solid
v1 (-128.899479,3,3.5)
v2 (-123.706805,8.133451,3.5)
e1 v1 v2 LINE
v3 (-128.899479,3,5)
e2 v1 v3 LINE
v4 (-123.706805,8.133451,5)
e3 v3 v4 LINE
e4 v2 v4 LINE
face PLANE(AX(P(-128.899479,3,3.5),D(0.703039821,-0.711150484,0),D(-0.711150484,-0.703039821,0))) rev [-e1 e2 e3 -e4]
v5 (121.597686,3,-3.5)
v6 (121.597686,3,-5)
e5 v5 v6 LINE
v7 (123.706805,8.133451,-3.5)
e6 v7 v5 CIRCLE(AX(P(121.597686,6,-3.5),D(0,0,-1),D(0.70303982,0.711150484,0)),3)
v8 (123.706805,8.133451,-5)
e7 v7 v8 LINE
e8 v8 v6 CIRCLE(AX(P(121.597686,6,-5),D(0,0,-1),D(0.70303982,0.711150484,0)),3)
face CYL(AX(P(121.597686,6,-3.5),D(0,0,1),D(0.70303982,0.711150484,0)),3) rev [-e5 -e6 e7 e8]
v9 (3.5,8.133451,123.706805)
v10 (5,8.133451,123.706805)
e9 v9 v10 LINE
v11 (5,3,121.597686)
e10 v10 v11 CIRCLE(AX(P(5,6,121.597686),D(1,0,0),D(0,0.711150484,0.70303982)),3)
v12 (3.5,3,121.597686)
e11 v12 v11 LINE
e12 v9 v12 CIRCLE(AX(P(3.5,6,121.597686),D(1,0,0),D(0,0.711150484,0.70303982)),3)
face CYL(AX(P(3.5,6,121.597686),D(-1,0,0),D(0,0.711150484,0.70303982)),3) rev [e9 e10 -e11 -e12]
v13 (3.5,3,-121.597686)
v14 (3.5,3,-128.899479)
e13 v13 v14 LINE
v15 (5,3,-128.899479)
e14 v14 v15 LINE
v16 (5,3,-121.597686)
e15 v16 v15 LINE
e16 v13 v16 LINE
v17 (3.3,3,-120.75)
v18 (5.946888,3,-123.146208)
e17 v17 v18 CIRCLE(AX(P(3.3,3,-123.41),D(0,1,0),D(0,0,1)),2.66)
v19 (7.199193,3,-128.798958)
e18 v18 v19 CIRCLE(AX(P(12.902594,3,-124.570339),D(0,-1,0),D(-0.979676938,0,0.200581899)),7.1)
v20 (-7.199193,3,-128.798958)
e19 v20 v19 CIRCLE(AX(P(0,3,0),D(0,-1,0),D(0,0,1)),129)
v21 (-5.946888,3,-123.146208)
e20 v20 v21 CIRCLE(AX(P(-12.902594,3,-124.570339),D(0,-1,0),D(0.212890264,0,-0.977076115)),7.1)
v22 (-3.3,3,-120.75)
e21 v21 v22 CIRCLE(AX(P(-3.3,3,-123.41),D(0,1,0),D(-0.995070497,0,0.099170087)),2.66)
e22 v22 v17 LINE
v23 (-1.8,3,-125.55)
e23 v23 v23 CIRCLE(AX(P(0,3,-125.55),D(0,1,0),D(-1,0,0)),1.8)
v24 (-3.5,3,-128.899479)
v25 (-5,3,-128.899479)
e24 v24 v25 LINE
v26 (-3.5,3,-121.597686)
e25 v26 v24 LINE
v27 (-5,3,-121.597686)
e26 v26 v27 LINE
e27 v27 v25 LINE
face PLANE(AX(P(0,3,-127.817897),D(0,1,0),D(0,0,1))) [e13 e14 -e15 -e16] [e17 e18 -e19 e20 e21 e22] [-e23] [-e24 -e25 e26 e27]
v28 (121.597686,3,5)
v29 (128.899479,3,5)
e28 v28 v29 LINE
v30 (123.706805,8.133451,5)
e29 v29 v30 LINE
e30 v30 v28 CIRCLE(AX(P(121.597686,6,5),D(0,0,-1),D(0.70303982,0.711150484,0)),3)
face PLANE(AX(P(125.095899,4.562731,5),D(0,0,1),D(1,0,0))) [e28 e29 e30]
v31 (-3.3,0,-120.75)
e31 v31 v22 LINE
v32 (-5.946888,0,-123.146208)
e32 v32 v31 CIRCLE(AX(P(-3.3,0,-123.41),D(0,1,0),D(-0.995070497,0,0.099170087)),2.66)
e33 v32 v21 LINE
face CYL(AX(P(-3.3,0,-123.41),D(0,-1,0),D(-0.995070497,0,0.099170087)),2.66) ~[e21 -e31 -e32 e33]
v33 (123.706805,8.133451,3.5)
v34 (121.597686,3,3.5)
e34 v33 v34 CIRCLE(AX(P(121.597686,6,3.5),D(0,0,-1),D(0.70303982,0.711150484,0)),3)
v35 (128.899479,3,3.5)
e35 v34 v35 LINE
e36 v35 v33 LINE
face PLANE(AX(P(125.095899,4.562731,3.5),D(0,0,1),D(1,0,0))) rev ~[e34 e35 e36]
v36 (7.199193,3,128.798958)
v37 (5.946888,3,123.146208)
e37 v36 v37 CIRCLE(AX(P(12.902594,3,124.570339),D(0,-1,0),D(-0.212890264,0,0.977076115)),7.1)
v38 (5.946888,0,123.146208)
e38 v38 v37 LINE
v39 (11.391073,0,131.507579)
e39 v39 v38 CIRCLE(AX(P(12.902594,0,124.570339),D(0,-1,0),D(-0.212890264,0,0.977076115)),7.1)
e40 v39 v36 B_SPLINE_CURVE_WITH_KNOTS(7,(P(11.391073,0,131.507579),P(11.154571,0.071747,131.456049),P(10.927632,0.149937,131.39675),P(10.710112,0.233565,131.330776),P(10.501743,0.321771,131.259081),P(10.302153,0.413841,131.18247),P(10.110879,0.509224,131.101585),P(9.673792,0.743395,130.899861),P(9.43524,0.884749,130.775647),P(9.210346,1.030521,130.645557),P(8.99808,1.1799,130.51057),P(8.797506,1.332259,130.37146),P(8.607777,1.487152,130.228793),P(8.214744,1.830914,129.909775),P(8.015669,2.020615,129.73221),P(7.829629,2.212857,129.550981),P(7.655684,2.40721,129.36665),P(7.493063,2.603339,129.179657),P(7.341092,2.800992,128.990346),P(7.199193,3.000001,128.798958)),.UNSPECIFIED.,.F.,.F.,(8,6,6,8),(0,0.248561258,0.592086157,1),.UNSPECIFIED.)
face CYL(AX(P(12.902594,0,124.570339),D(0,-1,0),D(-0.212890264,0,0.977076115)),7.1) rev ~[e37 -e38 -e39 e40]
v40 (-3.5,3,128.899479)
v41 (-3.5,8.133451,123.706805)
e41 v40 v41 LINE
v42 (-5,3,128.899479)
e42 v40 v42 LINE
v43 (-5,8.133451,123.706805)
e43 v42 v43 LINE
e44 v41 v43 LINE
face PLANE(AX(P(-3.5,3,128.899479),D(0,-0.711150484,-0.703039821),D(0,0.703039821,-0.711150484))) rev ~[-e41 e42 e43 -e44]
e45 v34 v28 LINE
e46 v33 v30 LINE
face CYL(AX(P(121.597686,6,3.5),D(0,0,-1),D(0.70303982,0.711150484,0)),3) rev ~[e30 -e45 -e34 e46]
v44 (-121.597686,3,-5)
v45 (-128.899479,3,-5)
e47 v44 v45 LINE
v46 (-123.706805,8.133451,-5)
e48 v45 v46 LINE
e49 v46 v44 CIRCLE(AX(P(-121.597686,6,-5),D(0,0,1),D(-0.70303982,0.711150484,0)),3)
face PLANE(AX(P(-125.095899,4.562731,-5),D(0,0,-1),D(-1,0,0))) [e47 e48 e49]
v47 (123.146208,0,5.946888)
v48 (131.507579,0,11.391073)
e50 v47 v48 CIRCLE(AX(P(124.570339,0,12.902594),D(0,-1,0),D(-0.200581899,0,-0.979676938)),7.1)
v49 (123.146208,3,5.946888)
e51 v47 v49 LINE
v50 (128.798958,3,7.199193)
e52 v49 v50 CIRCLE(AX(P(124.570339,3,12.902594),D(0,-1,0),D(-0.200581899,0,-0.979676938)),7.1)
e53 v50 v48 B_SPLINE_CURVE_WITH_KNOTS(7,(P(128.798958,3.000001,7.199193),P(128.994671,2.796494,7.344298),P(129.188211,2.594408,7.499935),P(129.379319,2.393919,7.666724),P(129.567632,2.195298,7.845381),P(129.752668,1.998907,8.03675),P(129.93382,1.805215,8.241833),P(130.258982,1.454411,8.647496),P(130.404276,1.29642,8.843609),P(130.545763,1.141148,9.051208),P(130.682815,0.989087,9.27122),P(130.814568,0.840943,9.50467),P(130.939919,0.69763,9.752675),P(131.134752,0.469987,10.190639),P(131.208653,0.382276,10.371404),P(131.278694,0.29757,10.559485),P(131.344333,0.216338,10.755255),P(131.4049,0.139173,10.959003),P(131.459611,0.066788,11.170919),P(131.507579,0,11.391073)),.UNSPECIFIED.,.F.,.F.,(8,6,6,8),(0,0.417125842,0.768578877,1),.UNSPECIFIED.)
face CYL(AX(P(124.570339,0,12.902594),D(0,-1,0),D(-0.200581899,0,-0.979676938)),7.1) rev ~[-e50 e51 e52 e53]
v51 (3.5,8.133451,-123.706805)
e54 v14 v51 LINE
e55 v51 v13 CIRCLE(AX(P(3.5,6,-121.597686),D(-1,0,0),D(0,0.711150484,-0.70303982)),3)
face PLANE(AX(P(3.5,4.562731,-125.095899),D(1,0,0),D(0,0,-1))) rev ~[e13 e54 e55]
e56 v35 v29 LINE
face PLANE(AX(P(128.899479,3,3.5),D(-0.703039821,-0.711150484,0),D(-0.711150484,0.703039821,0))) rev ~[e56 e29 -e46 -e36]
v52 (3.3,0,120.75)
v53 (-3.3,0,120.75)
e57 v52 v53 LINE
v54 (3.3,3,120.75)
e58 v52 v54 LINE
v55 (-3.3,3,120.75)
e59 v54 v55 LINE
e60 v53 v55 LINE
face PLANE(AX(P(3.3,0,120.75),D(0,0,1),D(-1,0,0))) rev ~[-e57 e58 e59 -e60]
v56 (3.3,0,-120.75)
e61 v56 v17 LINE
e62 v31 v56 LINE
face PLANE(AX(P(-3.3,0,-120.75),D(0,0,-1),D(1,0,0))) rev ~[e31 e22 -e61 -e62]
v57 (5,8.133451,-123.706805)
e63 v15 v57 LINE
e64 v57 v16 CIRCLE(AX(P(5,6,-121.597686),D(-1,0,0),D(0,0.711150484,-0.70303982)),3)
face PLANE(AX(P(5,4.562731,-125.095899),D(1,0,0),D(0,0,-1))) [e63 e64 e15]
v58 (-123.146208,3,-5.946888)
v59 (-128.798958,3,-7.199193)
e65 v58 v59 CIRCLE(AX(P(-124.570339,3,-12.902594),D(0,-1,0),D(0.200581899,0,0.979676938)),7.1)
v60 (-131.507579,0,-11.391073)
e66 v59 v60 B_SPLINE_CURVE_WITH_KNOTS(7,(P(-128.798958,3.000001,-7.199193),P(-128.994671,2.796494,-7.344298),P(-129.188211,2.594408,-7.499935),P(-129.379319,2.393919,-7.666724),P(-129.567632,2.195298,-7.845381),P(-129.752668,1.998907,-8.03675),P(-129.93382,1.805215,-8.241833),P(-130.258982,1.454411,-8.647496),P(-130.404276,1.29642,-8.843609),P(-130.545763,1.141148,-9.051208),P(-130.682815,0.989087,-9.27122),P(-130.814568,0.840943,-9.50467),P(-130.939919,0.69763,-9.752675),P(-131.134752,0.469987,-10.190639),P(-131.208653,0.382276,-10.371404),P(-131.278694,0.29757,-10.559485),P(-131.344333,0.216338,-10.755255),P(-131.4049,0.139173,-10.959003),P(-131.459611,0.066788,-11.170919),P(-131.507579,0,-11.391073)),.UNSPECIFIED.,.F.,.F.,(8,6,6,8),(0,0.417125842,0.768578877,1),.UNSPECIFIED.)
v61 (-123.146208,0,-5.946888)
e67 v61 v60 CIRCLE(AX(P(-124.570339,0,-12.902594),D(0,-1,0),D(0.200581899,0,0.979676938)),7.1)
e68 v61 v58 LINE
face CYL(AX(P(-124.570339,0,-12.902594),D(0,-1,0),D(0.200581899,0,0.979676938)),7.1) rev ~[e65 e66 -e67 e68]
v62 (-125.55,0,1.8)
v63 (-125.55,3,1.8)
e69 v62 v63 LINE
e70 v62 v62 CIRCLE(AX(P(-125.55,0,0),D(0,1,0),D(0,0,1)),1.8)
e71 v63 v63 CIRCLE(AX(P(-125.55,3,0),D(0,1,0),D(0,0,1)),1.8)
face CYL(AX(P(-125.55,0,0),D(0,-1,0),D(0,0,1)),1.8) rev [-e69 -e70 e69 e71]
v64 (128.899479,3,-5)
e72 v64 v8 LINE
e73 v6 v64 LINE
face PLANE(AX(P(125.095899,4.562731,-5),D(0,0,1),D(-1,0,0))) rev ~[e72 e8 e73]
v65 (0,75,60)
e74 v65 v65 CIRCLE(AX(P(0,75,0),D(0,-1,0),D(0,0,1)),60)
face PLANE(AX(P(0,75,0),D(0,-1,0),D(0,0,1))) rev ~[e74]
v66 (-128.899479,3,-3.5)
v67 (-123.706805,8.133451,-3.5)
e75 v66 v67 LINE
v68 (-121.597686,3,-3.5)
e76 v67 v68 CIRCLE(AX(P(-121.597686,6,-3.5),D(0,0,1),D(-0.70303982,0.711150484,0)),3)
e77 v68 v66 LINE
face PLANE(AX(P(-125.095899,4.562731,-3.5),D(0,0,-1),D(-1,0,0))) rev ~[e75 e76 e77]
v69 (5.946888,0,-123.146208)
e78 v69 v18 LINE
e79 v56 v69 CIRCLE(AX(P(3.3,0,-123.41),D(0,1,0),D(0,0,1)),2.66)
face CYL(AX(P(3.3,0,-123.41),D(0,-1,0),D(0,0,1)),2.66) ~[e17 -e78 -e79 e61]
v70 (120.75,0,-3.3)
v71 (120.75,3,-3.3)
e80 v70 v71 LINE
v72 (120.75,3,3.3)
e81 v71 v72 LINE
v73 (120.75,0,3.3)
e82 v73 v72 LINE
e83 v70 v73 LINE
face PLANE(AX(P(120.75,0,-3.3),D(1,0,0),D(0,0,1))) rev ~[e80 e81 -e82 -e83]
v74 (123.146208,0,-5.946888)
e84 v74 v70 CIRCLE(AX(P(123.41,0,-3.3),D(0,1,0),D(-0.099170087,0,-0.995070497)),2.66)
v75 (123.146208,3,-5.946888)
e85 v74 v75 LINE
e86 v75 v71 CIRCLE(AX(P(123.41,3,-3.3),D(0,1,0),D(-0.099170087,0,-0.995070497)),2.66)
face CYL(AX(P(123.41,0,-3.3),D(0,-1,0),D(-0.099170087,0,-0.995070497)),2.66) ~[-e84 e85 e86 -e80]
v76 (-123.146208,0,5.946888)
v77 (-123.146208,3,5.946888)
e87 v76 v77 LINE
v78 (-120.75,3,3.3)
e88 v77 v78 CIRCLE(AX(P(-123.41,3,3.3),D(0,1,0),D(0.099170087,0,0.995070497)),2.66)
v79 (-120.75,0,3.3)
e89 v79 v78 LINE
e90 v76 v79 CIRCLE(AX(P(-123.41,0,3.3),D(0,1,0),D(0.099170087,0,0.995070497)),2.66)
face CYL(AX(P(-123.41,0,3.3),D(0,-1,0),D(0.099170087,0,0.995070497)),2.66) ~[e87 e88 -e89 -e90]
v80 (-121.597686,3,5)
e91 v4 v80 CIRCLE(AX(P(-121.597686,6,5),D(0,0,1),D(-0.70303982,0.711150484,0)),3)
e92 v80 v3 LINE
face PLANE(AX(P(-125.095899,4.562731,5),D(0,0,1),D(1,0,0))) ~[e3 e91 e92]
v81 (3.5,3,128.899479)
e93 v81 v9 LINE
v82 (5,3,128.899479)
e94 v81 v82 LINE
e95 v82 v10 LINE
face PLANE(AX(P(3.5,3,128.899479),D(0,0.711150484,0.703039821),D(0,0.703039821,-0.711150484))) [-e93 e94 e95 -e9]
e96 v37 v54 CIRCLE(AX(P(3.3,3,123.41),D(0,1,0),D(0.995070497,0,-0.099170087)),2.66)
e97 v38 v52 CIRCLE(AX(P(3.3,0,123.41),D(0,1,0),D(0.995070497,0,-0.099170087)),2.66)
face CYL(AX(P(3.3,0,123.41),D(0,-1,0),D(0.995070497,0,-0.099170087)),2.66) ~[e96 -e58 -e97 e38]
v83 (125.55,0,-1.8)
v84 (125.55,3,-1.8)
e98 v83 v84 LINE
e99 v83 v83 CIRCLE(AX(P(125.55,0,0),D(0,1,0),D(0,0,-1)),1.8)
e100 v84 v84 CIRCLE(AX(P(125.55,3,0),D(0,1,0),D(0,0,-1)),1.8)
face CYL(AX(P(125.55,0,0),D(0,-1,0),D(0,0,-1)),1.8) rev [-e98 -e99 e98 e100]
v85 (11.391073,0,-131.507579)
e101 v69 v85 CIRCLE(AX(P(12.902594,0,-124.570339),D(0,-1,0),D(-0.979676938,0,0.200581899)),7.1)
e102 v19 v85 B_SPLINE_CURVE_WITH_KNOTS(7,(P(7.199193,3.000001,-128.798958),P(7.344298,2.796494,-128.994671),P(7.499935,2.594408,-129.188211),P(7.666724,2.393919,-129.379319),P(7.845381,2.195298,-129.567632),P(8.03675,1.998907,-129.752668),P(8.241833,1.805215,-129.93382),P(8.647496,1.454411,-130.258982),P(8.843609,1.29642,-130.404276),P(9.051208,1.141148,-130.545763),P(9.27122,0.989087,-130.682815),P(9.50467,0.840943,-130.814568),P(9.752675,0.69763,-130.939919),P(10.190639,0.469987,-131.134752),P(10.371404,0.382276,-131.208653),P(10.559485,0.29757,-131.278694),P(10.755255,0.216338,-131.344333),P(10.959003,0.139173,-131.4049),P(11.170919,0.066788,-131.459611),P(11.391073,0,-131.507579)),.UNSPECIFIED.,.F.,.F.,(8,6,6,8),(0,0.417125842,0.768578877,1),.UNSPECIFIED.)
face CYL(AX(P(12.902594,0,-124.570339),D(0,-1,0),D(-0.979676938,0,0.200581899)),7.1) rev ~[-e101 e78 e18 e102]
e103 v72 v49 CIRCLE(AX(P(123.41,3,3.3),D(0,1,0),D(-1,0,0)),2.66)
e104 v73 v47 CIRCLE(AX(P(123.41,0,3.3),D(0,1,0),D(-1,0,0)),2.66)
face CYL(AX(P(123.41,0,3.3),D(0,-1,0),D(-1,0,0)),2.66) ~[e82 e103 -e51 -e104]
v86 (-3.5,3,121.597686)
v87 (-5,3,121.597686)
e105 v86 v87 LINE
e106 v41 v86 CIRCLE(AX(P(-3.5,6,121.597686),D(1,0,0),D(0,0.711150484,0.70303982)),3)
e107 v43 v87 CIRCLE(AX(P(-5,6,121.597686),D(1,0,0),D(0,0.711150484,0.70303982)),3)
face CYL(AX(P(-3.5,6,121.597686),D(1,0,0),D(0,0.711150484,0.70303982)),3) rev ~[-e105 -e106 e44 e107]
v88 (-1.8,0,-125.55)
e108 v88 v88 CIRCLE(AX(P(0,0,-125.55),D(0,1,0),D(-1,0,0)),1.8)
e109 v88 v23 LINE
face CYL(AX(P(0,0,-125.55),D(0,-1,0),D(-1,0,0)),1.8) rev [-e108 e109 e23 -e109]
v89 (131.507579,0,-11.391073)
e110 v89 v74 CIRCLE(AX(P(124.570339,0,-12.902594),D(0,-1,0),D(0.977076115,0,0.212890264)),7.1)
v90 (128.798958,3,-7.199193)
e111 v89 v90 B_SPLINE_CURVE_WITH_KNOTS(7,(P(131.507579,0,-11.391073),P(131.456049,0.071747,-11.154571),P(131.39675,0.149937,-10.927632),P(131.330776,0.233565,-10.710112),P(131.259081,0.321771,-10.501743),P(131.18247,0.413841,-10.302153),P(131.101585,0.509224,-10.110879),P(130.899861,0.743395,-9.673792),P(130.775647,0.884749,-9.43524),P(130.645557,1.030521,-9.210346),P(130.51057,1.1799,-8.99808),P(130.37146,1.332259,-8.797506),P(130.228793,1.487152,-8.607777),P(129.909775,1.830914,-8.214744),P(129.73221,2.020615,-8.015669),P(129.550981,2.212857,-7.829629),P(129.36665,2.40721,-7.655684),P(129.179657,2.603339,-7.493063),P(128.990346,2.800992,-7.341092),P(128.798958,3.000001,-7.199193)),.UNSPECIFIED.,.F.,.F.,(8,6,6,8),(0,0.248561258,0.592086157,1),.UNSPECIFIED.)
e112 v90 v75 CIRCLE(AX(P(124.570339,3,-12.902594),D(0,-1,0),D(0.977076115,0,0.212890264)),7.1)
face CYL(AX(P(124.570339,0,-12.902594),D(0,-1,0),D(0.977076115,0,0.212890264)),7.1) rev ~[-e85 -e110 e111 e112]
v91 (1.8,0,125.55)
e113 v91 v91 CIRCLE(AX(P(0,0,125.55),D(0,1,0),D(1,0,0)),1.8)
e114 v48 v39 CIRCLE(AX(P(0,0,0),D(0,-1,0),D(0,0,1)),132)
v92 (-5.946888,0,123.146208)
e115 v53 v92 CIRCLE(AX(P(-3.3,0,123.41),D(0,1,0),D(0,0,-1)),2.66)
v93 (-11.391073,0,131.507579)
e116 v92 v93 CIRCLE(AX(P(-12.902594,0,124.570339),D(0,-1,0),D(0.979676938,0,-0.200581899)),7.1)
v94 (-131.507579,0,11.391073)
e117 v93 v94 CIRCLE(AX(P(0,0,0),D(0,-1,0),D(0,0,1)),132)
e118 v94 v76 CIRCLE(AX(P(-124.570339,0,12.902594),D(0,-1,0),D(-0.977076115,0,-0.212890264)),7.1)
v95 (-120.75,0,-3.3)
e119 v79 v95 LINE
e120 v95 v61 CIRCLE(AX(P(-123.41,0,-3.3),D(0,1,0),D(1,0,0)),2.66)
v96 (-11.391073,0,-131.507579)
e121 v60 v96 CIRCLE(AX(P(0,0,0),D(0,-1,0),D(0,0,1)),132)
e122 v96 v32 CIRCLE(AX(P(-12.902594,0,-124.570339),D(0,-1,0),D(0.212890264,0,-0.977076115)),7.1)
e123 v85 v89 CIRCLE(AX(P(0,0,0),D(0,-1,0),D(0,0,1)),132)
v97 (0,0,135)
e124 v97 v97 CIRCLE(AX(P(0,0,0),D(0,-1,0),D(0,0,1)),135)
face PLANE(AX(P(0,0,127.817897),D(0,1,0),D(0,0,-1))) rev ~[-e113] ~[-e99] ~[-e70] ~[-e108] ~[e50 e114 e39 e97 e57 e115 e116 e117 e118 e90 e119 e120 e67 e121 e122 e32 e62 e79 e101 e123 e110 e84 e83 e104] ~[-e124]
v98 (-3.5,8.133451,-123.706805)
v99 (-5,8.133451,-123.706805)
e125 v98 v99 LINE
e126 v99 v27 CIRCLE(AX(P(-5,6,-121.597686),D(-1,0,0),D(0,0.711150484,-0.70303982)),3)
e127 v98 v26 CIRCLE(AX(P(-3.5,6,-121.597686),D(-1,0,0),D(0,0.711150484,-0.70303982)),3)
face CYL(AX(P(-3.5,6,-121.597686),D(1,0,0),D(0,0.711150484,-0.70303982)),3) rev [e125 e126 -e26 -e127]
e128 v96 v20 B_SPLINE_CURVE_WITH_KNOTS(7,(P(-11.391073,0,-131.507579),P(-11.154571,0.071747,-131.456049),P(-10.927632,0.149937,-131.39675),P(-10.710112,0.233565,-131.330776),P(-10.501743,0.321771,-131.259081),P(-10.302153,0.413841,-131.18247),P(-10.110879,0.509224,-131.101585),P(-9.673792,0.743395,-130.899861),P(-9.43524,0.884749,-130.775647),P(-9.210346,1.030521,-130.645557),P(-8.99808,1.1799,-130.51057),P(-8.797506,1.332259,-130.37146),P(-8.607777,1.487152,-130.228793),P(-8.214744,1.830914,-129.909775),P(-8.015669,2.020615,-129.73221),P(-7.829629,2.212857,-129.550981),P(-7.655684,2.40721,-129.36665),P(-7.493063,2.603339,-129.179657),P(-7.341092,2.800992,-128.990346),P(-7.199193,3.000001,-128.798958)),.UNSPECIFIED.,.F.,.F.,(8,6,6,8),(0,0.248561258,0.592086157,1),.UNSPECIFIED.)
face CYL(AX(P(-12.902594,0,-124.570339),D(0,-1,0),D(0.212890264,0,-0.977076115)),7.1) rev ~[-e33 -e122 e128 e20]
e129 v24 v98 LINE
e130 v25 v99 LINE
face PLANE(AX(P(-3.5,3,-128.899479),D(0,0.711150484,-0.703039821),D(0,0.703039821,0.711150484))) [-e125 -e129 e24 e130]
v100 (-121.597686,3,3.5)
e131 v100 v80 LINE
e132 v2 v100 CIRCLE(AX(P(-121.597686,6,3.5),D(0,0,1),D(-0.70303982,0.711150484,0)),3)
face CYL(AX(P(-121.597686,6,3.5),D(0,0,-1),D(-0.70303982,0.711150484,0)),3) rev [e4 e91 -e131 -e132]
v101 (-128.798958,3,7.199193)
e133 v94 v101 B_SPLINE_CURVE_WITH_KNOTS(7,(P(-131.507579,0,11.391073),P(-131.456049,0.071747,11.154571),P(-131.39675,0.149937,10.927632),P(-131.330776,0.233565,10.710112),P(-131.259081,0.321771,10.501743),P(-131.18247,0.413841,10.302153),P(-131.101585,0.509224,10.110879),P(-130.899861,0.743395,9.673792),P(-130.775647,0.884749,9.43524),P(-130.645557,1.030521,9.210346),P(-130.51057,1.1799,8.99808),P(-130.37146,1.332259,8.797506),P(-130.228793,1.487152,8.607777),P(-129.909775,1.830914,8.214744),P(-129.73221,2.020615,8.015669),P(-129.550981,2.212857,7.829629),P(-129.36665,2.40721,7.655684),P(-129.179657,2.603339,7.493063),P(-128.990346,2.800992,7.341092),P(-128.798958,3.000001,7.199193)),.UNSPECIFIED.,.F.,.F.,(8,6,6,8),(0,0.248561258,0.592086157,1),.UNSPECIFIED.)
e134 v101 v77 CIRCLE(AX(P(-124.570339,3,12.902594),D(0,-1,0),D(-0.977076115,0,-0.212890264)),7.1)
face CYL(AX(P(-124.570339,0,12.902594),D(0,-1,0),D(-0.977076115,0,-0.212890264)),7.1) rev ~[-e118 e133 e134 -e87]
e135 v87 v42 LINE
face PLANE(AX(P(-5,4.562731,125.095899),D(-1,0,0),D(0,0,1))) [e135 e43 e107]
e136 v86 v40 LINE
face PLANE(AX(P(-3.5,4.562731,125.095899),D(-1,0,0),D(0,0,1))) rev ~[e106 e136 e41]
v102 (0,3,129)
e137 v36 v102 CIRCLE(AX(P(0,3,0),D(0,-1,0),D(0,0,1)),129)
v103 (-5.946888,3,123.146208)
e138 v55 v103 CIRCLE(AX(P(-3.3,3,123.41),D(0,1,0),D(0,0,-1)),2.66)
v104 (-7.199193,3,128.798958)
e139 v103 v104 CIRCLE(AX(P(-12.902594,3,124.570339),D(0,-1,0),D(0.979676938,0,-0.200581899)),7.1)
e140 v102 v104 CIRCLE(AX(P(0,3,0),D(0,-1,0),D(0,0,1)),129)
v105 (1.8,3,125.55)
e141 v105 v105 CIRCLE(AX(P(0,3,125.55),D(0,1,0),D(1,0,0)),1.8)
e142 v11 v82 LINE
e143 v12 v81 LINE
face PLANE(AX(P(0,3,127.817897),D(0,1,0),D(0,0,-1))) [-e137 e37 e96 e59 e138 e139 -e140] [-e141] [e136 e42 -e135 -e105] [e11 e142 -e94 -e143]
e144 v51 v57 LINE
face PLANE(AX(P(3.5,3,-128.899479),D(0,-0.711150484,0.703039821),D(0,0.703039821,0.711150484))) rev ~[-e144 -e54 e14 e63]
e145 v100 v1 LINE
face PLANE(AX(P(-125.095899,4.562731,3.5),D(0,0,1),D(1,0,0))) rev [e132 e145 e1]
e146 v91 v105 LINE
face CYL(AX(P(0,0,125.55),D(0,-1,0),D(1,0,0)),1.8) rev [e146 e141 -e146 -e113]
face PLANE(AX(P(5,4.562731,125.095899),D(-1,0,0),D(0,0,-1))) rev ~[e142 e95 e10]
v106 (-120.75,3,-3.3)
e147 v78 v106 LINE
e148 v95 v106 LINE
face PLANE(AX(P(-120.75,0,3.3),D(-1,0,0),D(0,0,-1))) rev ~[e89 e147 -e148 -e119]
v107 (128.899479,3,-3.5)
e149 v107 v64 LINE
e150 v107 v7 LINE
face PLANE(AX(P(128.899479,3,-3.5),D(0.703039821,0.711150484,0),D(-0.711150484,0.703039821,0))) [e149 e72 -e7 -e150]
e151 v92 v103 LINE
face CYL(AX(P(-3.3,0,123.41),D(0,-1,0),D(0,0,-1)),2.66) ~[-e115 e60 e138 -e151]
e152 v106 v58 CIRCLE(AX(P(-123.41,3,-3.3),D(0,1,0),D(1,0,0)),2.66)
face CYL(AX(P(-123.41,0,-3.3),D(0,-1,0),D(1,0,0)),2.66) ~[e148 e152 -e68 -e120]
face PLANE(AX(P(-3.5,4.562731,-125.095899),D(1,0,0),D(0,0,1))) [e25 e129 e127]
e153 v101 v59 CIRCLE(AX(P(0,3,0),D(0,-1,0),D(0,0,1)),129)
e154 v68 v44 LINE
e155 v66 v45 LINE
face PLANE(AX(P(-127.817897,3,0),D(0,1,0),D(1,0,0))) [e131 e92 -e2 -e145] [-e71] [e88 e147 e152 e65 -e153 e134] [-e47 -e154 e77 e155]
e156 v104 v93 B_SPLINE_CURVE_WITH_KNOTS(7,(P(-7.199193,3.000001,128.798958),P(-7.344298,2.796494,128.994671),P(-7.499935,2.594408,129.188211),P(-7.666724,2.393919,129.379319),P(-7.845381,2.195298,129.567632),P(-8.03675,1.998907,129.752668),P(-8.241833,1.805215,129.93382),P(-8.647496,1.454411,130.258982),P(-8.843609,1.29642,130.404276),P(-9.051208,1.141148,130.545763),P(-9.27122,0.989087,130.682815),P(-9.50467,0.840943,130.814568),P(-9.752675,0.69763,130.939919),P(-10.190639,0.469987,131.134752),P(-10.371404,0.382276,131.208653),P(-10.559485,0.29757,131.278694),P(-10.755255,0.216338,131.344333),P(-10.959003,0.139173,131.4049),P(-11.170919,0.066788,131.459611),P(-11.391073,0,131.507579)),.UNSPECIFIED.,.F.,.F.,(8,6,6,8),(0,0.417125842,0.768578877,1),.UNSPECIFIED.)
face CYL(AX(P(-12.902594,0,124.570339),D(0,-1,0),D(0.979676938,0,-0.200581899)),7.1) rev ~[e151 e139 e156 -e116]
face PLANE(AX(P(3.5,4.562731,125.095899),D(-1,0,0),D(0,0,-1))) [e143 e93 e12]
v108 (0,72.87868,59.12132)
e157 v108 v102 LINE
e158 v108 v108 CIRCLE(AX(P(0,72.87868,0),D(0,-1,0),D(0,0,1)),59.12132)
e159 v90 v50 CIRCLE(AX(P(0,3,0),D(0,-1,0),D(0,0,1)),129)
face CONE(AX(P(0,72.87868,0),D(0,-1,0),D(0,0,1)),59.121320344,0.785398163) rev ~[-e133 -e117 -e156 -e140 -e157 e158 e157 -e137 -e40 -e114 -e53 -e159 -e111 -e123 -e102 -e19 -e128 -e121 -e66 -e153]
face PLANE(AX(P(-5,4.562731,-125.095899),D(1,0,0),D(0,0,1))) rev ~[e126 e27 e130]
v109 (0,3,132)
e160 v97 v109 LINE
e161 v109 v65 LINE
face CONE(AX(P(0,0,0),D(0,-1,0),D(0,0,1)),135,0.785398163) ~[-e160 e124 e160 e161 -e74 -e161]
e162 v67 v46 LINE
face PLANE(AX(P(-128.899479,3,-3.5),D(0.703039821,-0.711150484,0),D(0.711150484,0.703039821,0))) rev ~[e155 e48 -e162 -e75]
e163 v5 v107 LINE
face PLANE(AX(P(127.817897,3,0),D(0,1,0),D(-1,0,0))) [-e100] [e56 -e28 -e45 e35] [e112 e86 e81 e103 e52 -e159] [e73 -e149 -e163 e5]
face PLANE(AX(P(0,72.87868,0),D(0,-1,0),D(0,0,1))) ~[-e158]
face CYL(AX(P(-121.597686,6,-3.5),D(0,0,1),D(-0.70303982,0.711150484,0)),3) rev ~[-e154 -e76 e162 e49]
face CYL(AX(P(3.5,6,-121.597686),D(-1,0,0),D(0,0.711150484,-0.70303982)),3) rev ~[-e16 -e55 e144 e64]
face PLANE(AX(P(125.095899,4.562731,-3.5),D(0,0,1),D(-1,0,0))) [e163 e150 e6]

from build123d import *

# Parameters (mm, degrees)
SKETCH2_R                = 1.8
BOSS_EXTRUDE1_DEPTH      = 3
BOSS_EXTRUDE2_START      = -3.5
BOSS_EXTRUDE2_DEPTH      = 1.5
CIRPATTERN1_COUNT        = 4
CIRPATTERN1_START        = -3.5
CIRPATTERN1_COPY_1_DEPTH = 1.5
CIRPATTERN1_COPY_2_DEPTH = 1.5
CIRPATTERN1_COPY_3_DEPTH = 1.5


with BuildPart() as part:
    # Sketch1 → Revolve1 (revolve)
    with BuildSketch(Plane.XY, mode=Mode.PRIVATE) as revolve1_sk:
        Polygon((60, 75), (0, 75), (0, 72.878679656), (59.121320344, 72.878679656), (132, 0), (135, 0), align=None)
    revolve(revolve1_sk.sketch.rotate(Axis((0, 141.591796875, 0), (0, -1, 0)), 90), axis=Axis((0, 141.591796875, 0), (0, -1, 0)))

    # Sketch2 → Boss-Extrude1 (add)
    with BuildSketch(Plane(origin=(0, 0, 0), x_dir=(1, 0, 0), z_dir=(0, 1, 0))):
        with BuildLine():
            Line((-120.75, -3.3), (-120.75, 3.3))
            ThreePointArc((-120.75, 3.3), (-121.438035515, 5.085204769), (-123.14620757, 5.946887522))
            ThreePointArc((-123.14620757, 5.946887522), (-128.444404248, 6.952667825), (-131.50757947, 11.391072901))
            ThreePointArc((-131.50757947, 11.391072901), (-132, 0), (-131.50757947, -11.391072901))
            ThreePointArc((-131.50757947, -11.391072901), (-128.444404248, -6.952667825), (-123.14620757, -5.946887522))
            ThreePointArc((-123.14620757, -5.946887522), (-121.438035515, -5.085204769), (-120.75, -3.3))
        make_face()
        with Locations(Location((-125.55, 0, 0), (0, 0, 270))):
            Circle(SKETCH2_R, mode=Mode.SUBTRACT)
    boss_extrude1 = extrude(amount=BOSS_EXTRUDE1_DEPTH)

    # Sketch4 → Boss-Extrude2 (add)
    with BuildSketch(Plane.XY.offset(BOSS_EXTRUDE2_START)):
        with BuildLine():
            Line((-121.597685774, 3), (-128.899479074, 3))
            Line((-128.899479074, 3), (-123.706805235, 8.133451452))
            ThreePointArc((-123.706805235, 8.133451452), (-124.372605084, 4.859902275), (-121.597685774, 3))
        make_face()
    boss_extrude2 = extrude(amount=-BOSS_EXTRUDE2_DEPTH)

    # Mirror1: Boss-Extrude2 across plane
    add(boss_extrude2.mirror(Plane.XY))

    # CirPattern1: Boss-Extrude1, Boss-Extrude2 ×4 about axis
    cirpattern1_axis = Axis((0, 0, 0), (0, 1, 0))
    add([boss_extrude1.rotate(cirpattern1_axis, i * 360 / CIRPATTERN1_COUNT) for i in range(1, CIRPATTERN1_COUNT)])
    add([boss_extrude2.rotate(cirpattern1_axis, i * 360 / CIRPATTERN1_COUNT) for i in range(1, CIRPATTERN1_COUNT)])

    # CirPattern1 copy 1 sketch → CirPattern1 copy 1 (add)
    with BuildSketch(Plane(origin=(0, 0, 0), x_dir=(0, 0, -1), z_dir=(-1, 0, 0)).offset(CIRPATTERN1_START)):
        with BuildLine():
            Line((-121.597685774, -3), (-128.899479074, -3))
            Line((-128.899479074, -3), (-123.706805235, -8.133451452))
            ThreePointArc((-123.706805235, -8.133451452), (-124.372605084, -4.859902275), (-121.597685774, -3))
        make_face()
    extrude(amount=-CIRPATTERN1_COPY_1_DEPTH)

    # CirPattern1 copy 2 sketch → CirPattern1 copy 2 (add)
    with BuildSketch(Plane(origin=(0, 0, 0), x_dir=(-1, 0, 0), z_dir=(0, 0, 1)).offset(CIRPATTERN1_START)):
        with BuildLine():
            Line((-121.597685774, -3), (-128.899479074, -3))
            Line((-128.899479074, -3), (-123.706805235, -8.133451452))
            ThreePointArc((-123.706805235, -8.133451452), (-124.372605084, -4.859902275), (-121.597685774, -3))
        make_face()
    extrude(amount=-CIRPATTERN1_COPY_2_DEPTH)

    # CirPattern1 copy 3 sketch → CirPattern1 copy 3 (add)
    with BuildSketch(Plane(origin=(0, 0, 0), x_dir=(0, 0, 1), z_dir=(1, 0, 0)).offset(CIRPATTERN1_START)):
        with BuildLine():
            Line((-121.597685774, -3), (-128.899479074, -3))
            Line((-128.899479074, -3), (-123.706805235, -8.133451452))
            ThreePointArc((-123.706805235, -8.133451452), (-124.372605084, -4.859902275), (-121.597685774, -3))
        make_face()
    extrude(amount=-CIRPATTERN1_COPY_3_DEPTH)


solid = part.part
